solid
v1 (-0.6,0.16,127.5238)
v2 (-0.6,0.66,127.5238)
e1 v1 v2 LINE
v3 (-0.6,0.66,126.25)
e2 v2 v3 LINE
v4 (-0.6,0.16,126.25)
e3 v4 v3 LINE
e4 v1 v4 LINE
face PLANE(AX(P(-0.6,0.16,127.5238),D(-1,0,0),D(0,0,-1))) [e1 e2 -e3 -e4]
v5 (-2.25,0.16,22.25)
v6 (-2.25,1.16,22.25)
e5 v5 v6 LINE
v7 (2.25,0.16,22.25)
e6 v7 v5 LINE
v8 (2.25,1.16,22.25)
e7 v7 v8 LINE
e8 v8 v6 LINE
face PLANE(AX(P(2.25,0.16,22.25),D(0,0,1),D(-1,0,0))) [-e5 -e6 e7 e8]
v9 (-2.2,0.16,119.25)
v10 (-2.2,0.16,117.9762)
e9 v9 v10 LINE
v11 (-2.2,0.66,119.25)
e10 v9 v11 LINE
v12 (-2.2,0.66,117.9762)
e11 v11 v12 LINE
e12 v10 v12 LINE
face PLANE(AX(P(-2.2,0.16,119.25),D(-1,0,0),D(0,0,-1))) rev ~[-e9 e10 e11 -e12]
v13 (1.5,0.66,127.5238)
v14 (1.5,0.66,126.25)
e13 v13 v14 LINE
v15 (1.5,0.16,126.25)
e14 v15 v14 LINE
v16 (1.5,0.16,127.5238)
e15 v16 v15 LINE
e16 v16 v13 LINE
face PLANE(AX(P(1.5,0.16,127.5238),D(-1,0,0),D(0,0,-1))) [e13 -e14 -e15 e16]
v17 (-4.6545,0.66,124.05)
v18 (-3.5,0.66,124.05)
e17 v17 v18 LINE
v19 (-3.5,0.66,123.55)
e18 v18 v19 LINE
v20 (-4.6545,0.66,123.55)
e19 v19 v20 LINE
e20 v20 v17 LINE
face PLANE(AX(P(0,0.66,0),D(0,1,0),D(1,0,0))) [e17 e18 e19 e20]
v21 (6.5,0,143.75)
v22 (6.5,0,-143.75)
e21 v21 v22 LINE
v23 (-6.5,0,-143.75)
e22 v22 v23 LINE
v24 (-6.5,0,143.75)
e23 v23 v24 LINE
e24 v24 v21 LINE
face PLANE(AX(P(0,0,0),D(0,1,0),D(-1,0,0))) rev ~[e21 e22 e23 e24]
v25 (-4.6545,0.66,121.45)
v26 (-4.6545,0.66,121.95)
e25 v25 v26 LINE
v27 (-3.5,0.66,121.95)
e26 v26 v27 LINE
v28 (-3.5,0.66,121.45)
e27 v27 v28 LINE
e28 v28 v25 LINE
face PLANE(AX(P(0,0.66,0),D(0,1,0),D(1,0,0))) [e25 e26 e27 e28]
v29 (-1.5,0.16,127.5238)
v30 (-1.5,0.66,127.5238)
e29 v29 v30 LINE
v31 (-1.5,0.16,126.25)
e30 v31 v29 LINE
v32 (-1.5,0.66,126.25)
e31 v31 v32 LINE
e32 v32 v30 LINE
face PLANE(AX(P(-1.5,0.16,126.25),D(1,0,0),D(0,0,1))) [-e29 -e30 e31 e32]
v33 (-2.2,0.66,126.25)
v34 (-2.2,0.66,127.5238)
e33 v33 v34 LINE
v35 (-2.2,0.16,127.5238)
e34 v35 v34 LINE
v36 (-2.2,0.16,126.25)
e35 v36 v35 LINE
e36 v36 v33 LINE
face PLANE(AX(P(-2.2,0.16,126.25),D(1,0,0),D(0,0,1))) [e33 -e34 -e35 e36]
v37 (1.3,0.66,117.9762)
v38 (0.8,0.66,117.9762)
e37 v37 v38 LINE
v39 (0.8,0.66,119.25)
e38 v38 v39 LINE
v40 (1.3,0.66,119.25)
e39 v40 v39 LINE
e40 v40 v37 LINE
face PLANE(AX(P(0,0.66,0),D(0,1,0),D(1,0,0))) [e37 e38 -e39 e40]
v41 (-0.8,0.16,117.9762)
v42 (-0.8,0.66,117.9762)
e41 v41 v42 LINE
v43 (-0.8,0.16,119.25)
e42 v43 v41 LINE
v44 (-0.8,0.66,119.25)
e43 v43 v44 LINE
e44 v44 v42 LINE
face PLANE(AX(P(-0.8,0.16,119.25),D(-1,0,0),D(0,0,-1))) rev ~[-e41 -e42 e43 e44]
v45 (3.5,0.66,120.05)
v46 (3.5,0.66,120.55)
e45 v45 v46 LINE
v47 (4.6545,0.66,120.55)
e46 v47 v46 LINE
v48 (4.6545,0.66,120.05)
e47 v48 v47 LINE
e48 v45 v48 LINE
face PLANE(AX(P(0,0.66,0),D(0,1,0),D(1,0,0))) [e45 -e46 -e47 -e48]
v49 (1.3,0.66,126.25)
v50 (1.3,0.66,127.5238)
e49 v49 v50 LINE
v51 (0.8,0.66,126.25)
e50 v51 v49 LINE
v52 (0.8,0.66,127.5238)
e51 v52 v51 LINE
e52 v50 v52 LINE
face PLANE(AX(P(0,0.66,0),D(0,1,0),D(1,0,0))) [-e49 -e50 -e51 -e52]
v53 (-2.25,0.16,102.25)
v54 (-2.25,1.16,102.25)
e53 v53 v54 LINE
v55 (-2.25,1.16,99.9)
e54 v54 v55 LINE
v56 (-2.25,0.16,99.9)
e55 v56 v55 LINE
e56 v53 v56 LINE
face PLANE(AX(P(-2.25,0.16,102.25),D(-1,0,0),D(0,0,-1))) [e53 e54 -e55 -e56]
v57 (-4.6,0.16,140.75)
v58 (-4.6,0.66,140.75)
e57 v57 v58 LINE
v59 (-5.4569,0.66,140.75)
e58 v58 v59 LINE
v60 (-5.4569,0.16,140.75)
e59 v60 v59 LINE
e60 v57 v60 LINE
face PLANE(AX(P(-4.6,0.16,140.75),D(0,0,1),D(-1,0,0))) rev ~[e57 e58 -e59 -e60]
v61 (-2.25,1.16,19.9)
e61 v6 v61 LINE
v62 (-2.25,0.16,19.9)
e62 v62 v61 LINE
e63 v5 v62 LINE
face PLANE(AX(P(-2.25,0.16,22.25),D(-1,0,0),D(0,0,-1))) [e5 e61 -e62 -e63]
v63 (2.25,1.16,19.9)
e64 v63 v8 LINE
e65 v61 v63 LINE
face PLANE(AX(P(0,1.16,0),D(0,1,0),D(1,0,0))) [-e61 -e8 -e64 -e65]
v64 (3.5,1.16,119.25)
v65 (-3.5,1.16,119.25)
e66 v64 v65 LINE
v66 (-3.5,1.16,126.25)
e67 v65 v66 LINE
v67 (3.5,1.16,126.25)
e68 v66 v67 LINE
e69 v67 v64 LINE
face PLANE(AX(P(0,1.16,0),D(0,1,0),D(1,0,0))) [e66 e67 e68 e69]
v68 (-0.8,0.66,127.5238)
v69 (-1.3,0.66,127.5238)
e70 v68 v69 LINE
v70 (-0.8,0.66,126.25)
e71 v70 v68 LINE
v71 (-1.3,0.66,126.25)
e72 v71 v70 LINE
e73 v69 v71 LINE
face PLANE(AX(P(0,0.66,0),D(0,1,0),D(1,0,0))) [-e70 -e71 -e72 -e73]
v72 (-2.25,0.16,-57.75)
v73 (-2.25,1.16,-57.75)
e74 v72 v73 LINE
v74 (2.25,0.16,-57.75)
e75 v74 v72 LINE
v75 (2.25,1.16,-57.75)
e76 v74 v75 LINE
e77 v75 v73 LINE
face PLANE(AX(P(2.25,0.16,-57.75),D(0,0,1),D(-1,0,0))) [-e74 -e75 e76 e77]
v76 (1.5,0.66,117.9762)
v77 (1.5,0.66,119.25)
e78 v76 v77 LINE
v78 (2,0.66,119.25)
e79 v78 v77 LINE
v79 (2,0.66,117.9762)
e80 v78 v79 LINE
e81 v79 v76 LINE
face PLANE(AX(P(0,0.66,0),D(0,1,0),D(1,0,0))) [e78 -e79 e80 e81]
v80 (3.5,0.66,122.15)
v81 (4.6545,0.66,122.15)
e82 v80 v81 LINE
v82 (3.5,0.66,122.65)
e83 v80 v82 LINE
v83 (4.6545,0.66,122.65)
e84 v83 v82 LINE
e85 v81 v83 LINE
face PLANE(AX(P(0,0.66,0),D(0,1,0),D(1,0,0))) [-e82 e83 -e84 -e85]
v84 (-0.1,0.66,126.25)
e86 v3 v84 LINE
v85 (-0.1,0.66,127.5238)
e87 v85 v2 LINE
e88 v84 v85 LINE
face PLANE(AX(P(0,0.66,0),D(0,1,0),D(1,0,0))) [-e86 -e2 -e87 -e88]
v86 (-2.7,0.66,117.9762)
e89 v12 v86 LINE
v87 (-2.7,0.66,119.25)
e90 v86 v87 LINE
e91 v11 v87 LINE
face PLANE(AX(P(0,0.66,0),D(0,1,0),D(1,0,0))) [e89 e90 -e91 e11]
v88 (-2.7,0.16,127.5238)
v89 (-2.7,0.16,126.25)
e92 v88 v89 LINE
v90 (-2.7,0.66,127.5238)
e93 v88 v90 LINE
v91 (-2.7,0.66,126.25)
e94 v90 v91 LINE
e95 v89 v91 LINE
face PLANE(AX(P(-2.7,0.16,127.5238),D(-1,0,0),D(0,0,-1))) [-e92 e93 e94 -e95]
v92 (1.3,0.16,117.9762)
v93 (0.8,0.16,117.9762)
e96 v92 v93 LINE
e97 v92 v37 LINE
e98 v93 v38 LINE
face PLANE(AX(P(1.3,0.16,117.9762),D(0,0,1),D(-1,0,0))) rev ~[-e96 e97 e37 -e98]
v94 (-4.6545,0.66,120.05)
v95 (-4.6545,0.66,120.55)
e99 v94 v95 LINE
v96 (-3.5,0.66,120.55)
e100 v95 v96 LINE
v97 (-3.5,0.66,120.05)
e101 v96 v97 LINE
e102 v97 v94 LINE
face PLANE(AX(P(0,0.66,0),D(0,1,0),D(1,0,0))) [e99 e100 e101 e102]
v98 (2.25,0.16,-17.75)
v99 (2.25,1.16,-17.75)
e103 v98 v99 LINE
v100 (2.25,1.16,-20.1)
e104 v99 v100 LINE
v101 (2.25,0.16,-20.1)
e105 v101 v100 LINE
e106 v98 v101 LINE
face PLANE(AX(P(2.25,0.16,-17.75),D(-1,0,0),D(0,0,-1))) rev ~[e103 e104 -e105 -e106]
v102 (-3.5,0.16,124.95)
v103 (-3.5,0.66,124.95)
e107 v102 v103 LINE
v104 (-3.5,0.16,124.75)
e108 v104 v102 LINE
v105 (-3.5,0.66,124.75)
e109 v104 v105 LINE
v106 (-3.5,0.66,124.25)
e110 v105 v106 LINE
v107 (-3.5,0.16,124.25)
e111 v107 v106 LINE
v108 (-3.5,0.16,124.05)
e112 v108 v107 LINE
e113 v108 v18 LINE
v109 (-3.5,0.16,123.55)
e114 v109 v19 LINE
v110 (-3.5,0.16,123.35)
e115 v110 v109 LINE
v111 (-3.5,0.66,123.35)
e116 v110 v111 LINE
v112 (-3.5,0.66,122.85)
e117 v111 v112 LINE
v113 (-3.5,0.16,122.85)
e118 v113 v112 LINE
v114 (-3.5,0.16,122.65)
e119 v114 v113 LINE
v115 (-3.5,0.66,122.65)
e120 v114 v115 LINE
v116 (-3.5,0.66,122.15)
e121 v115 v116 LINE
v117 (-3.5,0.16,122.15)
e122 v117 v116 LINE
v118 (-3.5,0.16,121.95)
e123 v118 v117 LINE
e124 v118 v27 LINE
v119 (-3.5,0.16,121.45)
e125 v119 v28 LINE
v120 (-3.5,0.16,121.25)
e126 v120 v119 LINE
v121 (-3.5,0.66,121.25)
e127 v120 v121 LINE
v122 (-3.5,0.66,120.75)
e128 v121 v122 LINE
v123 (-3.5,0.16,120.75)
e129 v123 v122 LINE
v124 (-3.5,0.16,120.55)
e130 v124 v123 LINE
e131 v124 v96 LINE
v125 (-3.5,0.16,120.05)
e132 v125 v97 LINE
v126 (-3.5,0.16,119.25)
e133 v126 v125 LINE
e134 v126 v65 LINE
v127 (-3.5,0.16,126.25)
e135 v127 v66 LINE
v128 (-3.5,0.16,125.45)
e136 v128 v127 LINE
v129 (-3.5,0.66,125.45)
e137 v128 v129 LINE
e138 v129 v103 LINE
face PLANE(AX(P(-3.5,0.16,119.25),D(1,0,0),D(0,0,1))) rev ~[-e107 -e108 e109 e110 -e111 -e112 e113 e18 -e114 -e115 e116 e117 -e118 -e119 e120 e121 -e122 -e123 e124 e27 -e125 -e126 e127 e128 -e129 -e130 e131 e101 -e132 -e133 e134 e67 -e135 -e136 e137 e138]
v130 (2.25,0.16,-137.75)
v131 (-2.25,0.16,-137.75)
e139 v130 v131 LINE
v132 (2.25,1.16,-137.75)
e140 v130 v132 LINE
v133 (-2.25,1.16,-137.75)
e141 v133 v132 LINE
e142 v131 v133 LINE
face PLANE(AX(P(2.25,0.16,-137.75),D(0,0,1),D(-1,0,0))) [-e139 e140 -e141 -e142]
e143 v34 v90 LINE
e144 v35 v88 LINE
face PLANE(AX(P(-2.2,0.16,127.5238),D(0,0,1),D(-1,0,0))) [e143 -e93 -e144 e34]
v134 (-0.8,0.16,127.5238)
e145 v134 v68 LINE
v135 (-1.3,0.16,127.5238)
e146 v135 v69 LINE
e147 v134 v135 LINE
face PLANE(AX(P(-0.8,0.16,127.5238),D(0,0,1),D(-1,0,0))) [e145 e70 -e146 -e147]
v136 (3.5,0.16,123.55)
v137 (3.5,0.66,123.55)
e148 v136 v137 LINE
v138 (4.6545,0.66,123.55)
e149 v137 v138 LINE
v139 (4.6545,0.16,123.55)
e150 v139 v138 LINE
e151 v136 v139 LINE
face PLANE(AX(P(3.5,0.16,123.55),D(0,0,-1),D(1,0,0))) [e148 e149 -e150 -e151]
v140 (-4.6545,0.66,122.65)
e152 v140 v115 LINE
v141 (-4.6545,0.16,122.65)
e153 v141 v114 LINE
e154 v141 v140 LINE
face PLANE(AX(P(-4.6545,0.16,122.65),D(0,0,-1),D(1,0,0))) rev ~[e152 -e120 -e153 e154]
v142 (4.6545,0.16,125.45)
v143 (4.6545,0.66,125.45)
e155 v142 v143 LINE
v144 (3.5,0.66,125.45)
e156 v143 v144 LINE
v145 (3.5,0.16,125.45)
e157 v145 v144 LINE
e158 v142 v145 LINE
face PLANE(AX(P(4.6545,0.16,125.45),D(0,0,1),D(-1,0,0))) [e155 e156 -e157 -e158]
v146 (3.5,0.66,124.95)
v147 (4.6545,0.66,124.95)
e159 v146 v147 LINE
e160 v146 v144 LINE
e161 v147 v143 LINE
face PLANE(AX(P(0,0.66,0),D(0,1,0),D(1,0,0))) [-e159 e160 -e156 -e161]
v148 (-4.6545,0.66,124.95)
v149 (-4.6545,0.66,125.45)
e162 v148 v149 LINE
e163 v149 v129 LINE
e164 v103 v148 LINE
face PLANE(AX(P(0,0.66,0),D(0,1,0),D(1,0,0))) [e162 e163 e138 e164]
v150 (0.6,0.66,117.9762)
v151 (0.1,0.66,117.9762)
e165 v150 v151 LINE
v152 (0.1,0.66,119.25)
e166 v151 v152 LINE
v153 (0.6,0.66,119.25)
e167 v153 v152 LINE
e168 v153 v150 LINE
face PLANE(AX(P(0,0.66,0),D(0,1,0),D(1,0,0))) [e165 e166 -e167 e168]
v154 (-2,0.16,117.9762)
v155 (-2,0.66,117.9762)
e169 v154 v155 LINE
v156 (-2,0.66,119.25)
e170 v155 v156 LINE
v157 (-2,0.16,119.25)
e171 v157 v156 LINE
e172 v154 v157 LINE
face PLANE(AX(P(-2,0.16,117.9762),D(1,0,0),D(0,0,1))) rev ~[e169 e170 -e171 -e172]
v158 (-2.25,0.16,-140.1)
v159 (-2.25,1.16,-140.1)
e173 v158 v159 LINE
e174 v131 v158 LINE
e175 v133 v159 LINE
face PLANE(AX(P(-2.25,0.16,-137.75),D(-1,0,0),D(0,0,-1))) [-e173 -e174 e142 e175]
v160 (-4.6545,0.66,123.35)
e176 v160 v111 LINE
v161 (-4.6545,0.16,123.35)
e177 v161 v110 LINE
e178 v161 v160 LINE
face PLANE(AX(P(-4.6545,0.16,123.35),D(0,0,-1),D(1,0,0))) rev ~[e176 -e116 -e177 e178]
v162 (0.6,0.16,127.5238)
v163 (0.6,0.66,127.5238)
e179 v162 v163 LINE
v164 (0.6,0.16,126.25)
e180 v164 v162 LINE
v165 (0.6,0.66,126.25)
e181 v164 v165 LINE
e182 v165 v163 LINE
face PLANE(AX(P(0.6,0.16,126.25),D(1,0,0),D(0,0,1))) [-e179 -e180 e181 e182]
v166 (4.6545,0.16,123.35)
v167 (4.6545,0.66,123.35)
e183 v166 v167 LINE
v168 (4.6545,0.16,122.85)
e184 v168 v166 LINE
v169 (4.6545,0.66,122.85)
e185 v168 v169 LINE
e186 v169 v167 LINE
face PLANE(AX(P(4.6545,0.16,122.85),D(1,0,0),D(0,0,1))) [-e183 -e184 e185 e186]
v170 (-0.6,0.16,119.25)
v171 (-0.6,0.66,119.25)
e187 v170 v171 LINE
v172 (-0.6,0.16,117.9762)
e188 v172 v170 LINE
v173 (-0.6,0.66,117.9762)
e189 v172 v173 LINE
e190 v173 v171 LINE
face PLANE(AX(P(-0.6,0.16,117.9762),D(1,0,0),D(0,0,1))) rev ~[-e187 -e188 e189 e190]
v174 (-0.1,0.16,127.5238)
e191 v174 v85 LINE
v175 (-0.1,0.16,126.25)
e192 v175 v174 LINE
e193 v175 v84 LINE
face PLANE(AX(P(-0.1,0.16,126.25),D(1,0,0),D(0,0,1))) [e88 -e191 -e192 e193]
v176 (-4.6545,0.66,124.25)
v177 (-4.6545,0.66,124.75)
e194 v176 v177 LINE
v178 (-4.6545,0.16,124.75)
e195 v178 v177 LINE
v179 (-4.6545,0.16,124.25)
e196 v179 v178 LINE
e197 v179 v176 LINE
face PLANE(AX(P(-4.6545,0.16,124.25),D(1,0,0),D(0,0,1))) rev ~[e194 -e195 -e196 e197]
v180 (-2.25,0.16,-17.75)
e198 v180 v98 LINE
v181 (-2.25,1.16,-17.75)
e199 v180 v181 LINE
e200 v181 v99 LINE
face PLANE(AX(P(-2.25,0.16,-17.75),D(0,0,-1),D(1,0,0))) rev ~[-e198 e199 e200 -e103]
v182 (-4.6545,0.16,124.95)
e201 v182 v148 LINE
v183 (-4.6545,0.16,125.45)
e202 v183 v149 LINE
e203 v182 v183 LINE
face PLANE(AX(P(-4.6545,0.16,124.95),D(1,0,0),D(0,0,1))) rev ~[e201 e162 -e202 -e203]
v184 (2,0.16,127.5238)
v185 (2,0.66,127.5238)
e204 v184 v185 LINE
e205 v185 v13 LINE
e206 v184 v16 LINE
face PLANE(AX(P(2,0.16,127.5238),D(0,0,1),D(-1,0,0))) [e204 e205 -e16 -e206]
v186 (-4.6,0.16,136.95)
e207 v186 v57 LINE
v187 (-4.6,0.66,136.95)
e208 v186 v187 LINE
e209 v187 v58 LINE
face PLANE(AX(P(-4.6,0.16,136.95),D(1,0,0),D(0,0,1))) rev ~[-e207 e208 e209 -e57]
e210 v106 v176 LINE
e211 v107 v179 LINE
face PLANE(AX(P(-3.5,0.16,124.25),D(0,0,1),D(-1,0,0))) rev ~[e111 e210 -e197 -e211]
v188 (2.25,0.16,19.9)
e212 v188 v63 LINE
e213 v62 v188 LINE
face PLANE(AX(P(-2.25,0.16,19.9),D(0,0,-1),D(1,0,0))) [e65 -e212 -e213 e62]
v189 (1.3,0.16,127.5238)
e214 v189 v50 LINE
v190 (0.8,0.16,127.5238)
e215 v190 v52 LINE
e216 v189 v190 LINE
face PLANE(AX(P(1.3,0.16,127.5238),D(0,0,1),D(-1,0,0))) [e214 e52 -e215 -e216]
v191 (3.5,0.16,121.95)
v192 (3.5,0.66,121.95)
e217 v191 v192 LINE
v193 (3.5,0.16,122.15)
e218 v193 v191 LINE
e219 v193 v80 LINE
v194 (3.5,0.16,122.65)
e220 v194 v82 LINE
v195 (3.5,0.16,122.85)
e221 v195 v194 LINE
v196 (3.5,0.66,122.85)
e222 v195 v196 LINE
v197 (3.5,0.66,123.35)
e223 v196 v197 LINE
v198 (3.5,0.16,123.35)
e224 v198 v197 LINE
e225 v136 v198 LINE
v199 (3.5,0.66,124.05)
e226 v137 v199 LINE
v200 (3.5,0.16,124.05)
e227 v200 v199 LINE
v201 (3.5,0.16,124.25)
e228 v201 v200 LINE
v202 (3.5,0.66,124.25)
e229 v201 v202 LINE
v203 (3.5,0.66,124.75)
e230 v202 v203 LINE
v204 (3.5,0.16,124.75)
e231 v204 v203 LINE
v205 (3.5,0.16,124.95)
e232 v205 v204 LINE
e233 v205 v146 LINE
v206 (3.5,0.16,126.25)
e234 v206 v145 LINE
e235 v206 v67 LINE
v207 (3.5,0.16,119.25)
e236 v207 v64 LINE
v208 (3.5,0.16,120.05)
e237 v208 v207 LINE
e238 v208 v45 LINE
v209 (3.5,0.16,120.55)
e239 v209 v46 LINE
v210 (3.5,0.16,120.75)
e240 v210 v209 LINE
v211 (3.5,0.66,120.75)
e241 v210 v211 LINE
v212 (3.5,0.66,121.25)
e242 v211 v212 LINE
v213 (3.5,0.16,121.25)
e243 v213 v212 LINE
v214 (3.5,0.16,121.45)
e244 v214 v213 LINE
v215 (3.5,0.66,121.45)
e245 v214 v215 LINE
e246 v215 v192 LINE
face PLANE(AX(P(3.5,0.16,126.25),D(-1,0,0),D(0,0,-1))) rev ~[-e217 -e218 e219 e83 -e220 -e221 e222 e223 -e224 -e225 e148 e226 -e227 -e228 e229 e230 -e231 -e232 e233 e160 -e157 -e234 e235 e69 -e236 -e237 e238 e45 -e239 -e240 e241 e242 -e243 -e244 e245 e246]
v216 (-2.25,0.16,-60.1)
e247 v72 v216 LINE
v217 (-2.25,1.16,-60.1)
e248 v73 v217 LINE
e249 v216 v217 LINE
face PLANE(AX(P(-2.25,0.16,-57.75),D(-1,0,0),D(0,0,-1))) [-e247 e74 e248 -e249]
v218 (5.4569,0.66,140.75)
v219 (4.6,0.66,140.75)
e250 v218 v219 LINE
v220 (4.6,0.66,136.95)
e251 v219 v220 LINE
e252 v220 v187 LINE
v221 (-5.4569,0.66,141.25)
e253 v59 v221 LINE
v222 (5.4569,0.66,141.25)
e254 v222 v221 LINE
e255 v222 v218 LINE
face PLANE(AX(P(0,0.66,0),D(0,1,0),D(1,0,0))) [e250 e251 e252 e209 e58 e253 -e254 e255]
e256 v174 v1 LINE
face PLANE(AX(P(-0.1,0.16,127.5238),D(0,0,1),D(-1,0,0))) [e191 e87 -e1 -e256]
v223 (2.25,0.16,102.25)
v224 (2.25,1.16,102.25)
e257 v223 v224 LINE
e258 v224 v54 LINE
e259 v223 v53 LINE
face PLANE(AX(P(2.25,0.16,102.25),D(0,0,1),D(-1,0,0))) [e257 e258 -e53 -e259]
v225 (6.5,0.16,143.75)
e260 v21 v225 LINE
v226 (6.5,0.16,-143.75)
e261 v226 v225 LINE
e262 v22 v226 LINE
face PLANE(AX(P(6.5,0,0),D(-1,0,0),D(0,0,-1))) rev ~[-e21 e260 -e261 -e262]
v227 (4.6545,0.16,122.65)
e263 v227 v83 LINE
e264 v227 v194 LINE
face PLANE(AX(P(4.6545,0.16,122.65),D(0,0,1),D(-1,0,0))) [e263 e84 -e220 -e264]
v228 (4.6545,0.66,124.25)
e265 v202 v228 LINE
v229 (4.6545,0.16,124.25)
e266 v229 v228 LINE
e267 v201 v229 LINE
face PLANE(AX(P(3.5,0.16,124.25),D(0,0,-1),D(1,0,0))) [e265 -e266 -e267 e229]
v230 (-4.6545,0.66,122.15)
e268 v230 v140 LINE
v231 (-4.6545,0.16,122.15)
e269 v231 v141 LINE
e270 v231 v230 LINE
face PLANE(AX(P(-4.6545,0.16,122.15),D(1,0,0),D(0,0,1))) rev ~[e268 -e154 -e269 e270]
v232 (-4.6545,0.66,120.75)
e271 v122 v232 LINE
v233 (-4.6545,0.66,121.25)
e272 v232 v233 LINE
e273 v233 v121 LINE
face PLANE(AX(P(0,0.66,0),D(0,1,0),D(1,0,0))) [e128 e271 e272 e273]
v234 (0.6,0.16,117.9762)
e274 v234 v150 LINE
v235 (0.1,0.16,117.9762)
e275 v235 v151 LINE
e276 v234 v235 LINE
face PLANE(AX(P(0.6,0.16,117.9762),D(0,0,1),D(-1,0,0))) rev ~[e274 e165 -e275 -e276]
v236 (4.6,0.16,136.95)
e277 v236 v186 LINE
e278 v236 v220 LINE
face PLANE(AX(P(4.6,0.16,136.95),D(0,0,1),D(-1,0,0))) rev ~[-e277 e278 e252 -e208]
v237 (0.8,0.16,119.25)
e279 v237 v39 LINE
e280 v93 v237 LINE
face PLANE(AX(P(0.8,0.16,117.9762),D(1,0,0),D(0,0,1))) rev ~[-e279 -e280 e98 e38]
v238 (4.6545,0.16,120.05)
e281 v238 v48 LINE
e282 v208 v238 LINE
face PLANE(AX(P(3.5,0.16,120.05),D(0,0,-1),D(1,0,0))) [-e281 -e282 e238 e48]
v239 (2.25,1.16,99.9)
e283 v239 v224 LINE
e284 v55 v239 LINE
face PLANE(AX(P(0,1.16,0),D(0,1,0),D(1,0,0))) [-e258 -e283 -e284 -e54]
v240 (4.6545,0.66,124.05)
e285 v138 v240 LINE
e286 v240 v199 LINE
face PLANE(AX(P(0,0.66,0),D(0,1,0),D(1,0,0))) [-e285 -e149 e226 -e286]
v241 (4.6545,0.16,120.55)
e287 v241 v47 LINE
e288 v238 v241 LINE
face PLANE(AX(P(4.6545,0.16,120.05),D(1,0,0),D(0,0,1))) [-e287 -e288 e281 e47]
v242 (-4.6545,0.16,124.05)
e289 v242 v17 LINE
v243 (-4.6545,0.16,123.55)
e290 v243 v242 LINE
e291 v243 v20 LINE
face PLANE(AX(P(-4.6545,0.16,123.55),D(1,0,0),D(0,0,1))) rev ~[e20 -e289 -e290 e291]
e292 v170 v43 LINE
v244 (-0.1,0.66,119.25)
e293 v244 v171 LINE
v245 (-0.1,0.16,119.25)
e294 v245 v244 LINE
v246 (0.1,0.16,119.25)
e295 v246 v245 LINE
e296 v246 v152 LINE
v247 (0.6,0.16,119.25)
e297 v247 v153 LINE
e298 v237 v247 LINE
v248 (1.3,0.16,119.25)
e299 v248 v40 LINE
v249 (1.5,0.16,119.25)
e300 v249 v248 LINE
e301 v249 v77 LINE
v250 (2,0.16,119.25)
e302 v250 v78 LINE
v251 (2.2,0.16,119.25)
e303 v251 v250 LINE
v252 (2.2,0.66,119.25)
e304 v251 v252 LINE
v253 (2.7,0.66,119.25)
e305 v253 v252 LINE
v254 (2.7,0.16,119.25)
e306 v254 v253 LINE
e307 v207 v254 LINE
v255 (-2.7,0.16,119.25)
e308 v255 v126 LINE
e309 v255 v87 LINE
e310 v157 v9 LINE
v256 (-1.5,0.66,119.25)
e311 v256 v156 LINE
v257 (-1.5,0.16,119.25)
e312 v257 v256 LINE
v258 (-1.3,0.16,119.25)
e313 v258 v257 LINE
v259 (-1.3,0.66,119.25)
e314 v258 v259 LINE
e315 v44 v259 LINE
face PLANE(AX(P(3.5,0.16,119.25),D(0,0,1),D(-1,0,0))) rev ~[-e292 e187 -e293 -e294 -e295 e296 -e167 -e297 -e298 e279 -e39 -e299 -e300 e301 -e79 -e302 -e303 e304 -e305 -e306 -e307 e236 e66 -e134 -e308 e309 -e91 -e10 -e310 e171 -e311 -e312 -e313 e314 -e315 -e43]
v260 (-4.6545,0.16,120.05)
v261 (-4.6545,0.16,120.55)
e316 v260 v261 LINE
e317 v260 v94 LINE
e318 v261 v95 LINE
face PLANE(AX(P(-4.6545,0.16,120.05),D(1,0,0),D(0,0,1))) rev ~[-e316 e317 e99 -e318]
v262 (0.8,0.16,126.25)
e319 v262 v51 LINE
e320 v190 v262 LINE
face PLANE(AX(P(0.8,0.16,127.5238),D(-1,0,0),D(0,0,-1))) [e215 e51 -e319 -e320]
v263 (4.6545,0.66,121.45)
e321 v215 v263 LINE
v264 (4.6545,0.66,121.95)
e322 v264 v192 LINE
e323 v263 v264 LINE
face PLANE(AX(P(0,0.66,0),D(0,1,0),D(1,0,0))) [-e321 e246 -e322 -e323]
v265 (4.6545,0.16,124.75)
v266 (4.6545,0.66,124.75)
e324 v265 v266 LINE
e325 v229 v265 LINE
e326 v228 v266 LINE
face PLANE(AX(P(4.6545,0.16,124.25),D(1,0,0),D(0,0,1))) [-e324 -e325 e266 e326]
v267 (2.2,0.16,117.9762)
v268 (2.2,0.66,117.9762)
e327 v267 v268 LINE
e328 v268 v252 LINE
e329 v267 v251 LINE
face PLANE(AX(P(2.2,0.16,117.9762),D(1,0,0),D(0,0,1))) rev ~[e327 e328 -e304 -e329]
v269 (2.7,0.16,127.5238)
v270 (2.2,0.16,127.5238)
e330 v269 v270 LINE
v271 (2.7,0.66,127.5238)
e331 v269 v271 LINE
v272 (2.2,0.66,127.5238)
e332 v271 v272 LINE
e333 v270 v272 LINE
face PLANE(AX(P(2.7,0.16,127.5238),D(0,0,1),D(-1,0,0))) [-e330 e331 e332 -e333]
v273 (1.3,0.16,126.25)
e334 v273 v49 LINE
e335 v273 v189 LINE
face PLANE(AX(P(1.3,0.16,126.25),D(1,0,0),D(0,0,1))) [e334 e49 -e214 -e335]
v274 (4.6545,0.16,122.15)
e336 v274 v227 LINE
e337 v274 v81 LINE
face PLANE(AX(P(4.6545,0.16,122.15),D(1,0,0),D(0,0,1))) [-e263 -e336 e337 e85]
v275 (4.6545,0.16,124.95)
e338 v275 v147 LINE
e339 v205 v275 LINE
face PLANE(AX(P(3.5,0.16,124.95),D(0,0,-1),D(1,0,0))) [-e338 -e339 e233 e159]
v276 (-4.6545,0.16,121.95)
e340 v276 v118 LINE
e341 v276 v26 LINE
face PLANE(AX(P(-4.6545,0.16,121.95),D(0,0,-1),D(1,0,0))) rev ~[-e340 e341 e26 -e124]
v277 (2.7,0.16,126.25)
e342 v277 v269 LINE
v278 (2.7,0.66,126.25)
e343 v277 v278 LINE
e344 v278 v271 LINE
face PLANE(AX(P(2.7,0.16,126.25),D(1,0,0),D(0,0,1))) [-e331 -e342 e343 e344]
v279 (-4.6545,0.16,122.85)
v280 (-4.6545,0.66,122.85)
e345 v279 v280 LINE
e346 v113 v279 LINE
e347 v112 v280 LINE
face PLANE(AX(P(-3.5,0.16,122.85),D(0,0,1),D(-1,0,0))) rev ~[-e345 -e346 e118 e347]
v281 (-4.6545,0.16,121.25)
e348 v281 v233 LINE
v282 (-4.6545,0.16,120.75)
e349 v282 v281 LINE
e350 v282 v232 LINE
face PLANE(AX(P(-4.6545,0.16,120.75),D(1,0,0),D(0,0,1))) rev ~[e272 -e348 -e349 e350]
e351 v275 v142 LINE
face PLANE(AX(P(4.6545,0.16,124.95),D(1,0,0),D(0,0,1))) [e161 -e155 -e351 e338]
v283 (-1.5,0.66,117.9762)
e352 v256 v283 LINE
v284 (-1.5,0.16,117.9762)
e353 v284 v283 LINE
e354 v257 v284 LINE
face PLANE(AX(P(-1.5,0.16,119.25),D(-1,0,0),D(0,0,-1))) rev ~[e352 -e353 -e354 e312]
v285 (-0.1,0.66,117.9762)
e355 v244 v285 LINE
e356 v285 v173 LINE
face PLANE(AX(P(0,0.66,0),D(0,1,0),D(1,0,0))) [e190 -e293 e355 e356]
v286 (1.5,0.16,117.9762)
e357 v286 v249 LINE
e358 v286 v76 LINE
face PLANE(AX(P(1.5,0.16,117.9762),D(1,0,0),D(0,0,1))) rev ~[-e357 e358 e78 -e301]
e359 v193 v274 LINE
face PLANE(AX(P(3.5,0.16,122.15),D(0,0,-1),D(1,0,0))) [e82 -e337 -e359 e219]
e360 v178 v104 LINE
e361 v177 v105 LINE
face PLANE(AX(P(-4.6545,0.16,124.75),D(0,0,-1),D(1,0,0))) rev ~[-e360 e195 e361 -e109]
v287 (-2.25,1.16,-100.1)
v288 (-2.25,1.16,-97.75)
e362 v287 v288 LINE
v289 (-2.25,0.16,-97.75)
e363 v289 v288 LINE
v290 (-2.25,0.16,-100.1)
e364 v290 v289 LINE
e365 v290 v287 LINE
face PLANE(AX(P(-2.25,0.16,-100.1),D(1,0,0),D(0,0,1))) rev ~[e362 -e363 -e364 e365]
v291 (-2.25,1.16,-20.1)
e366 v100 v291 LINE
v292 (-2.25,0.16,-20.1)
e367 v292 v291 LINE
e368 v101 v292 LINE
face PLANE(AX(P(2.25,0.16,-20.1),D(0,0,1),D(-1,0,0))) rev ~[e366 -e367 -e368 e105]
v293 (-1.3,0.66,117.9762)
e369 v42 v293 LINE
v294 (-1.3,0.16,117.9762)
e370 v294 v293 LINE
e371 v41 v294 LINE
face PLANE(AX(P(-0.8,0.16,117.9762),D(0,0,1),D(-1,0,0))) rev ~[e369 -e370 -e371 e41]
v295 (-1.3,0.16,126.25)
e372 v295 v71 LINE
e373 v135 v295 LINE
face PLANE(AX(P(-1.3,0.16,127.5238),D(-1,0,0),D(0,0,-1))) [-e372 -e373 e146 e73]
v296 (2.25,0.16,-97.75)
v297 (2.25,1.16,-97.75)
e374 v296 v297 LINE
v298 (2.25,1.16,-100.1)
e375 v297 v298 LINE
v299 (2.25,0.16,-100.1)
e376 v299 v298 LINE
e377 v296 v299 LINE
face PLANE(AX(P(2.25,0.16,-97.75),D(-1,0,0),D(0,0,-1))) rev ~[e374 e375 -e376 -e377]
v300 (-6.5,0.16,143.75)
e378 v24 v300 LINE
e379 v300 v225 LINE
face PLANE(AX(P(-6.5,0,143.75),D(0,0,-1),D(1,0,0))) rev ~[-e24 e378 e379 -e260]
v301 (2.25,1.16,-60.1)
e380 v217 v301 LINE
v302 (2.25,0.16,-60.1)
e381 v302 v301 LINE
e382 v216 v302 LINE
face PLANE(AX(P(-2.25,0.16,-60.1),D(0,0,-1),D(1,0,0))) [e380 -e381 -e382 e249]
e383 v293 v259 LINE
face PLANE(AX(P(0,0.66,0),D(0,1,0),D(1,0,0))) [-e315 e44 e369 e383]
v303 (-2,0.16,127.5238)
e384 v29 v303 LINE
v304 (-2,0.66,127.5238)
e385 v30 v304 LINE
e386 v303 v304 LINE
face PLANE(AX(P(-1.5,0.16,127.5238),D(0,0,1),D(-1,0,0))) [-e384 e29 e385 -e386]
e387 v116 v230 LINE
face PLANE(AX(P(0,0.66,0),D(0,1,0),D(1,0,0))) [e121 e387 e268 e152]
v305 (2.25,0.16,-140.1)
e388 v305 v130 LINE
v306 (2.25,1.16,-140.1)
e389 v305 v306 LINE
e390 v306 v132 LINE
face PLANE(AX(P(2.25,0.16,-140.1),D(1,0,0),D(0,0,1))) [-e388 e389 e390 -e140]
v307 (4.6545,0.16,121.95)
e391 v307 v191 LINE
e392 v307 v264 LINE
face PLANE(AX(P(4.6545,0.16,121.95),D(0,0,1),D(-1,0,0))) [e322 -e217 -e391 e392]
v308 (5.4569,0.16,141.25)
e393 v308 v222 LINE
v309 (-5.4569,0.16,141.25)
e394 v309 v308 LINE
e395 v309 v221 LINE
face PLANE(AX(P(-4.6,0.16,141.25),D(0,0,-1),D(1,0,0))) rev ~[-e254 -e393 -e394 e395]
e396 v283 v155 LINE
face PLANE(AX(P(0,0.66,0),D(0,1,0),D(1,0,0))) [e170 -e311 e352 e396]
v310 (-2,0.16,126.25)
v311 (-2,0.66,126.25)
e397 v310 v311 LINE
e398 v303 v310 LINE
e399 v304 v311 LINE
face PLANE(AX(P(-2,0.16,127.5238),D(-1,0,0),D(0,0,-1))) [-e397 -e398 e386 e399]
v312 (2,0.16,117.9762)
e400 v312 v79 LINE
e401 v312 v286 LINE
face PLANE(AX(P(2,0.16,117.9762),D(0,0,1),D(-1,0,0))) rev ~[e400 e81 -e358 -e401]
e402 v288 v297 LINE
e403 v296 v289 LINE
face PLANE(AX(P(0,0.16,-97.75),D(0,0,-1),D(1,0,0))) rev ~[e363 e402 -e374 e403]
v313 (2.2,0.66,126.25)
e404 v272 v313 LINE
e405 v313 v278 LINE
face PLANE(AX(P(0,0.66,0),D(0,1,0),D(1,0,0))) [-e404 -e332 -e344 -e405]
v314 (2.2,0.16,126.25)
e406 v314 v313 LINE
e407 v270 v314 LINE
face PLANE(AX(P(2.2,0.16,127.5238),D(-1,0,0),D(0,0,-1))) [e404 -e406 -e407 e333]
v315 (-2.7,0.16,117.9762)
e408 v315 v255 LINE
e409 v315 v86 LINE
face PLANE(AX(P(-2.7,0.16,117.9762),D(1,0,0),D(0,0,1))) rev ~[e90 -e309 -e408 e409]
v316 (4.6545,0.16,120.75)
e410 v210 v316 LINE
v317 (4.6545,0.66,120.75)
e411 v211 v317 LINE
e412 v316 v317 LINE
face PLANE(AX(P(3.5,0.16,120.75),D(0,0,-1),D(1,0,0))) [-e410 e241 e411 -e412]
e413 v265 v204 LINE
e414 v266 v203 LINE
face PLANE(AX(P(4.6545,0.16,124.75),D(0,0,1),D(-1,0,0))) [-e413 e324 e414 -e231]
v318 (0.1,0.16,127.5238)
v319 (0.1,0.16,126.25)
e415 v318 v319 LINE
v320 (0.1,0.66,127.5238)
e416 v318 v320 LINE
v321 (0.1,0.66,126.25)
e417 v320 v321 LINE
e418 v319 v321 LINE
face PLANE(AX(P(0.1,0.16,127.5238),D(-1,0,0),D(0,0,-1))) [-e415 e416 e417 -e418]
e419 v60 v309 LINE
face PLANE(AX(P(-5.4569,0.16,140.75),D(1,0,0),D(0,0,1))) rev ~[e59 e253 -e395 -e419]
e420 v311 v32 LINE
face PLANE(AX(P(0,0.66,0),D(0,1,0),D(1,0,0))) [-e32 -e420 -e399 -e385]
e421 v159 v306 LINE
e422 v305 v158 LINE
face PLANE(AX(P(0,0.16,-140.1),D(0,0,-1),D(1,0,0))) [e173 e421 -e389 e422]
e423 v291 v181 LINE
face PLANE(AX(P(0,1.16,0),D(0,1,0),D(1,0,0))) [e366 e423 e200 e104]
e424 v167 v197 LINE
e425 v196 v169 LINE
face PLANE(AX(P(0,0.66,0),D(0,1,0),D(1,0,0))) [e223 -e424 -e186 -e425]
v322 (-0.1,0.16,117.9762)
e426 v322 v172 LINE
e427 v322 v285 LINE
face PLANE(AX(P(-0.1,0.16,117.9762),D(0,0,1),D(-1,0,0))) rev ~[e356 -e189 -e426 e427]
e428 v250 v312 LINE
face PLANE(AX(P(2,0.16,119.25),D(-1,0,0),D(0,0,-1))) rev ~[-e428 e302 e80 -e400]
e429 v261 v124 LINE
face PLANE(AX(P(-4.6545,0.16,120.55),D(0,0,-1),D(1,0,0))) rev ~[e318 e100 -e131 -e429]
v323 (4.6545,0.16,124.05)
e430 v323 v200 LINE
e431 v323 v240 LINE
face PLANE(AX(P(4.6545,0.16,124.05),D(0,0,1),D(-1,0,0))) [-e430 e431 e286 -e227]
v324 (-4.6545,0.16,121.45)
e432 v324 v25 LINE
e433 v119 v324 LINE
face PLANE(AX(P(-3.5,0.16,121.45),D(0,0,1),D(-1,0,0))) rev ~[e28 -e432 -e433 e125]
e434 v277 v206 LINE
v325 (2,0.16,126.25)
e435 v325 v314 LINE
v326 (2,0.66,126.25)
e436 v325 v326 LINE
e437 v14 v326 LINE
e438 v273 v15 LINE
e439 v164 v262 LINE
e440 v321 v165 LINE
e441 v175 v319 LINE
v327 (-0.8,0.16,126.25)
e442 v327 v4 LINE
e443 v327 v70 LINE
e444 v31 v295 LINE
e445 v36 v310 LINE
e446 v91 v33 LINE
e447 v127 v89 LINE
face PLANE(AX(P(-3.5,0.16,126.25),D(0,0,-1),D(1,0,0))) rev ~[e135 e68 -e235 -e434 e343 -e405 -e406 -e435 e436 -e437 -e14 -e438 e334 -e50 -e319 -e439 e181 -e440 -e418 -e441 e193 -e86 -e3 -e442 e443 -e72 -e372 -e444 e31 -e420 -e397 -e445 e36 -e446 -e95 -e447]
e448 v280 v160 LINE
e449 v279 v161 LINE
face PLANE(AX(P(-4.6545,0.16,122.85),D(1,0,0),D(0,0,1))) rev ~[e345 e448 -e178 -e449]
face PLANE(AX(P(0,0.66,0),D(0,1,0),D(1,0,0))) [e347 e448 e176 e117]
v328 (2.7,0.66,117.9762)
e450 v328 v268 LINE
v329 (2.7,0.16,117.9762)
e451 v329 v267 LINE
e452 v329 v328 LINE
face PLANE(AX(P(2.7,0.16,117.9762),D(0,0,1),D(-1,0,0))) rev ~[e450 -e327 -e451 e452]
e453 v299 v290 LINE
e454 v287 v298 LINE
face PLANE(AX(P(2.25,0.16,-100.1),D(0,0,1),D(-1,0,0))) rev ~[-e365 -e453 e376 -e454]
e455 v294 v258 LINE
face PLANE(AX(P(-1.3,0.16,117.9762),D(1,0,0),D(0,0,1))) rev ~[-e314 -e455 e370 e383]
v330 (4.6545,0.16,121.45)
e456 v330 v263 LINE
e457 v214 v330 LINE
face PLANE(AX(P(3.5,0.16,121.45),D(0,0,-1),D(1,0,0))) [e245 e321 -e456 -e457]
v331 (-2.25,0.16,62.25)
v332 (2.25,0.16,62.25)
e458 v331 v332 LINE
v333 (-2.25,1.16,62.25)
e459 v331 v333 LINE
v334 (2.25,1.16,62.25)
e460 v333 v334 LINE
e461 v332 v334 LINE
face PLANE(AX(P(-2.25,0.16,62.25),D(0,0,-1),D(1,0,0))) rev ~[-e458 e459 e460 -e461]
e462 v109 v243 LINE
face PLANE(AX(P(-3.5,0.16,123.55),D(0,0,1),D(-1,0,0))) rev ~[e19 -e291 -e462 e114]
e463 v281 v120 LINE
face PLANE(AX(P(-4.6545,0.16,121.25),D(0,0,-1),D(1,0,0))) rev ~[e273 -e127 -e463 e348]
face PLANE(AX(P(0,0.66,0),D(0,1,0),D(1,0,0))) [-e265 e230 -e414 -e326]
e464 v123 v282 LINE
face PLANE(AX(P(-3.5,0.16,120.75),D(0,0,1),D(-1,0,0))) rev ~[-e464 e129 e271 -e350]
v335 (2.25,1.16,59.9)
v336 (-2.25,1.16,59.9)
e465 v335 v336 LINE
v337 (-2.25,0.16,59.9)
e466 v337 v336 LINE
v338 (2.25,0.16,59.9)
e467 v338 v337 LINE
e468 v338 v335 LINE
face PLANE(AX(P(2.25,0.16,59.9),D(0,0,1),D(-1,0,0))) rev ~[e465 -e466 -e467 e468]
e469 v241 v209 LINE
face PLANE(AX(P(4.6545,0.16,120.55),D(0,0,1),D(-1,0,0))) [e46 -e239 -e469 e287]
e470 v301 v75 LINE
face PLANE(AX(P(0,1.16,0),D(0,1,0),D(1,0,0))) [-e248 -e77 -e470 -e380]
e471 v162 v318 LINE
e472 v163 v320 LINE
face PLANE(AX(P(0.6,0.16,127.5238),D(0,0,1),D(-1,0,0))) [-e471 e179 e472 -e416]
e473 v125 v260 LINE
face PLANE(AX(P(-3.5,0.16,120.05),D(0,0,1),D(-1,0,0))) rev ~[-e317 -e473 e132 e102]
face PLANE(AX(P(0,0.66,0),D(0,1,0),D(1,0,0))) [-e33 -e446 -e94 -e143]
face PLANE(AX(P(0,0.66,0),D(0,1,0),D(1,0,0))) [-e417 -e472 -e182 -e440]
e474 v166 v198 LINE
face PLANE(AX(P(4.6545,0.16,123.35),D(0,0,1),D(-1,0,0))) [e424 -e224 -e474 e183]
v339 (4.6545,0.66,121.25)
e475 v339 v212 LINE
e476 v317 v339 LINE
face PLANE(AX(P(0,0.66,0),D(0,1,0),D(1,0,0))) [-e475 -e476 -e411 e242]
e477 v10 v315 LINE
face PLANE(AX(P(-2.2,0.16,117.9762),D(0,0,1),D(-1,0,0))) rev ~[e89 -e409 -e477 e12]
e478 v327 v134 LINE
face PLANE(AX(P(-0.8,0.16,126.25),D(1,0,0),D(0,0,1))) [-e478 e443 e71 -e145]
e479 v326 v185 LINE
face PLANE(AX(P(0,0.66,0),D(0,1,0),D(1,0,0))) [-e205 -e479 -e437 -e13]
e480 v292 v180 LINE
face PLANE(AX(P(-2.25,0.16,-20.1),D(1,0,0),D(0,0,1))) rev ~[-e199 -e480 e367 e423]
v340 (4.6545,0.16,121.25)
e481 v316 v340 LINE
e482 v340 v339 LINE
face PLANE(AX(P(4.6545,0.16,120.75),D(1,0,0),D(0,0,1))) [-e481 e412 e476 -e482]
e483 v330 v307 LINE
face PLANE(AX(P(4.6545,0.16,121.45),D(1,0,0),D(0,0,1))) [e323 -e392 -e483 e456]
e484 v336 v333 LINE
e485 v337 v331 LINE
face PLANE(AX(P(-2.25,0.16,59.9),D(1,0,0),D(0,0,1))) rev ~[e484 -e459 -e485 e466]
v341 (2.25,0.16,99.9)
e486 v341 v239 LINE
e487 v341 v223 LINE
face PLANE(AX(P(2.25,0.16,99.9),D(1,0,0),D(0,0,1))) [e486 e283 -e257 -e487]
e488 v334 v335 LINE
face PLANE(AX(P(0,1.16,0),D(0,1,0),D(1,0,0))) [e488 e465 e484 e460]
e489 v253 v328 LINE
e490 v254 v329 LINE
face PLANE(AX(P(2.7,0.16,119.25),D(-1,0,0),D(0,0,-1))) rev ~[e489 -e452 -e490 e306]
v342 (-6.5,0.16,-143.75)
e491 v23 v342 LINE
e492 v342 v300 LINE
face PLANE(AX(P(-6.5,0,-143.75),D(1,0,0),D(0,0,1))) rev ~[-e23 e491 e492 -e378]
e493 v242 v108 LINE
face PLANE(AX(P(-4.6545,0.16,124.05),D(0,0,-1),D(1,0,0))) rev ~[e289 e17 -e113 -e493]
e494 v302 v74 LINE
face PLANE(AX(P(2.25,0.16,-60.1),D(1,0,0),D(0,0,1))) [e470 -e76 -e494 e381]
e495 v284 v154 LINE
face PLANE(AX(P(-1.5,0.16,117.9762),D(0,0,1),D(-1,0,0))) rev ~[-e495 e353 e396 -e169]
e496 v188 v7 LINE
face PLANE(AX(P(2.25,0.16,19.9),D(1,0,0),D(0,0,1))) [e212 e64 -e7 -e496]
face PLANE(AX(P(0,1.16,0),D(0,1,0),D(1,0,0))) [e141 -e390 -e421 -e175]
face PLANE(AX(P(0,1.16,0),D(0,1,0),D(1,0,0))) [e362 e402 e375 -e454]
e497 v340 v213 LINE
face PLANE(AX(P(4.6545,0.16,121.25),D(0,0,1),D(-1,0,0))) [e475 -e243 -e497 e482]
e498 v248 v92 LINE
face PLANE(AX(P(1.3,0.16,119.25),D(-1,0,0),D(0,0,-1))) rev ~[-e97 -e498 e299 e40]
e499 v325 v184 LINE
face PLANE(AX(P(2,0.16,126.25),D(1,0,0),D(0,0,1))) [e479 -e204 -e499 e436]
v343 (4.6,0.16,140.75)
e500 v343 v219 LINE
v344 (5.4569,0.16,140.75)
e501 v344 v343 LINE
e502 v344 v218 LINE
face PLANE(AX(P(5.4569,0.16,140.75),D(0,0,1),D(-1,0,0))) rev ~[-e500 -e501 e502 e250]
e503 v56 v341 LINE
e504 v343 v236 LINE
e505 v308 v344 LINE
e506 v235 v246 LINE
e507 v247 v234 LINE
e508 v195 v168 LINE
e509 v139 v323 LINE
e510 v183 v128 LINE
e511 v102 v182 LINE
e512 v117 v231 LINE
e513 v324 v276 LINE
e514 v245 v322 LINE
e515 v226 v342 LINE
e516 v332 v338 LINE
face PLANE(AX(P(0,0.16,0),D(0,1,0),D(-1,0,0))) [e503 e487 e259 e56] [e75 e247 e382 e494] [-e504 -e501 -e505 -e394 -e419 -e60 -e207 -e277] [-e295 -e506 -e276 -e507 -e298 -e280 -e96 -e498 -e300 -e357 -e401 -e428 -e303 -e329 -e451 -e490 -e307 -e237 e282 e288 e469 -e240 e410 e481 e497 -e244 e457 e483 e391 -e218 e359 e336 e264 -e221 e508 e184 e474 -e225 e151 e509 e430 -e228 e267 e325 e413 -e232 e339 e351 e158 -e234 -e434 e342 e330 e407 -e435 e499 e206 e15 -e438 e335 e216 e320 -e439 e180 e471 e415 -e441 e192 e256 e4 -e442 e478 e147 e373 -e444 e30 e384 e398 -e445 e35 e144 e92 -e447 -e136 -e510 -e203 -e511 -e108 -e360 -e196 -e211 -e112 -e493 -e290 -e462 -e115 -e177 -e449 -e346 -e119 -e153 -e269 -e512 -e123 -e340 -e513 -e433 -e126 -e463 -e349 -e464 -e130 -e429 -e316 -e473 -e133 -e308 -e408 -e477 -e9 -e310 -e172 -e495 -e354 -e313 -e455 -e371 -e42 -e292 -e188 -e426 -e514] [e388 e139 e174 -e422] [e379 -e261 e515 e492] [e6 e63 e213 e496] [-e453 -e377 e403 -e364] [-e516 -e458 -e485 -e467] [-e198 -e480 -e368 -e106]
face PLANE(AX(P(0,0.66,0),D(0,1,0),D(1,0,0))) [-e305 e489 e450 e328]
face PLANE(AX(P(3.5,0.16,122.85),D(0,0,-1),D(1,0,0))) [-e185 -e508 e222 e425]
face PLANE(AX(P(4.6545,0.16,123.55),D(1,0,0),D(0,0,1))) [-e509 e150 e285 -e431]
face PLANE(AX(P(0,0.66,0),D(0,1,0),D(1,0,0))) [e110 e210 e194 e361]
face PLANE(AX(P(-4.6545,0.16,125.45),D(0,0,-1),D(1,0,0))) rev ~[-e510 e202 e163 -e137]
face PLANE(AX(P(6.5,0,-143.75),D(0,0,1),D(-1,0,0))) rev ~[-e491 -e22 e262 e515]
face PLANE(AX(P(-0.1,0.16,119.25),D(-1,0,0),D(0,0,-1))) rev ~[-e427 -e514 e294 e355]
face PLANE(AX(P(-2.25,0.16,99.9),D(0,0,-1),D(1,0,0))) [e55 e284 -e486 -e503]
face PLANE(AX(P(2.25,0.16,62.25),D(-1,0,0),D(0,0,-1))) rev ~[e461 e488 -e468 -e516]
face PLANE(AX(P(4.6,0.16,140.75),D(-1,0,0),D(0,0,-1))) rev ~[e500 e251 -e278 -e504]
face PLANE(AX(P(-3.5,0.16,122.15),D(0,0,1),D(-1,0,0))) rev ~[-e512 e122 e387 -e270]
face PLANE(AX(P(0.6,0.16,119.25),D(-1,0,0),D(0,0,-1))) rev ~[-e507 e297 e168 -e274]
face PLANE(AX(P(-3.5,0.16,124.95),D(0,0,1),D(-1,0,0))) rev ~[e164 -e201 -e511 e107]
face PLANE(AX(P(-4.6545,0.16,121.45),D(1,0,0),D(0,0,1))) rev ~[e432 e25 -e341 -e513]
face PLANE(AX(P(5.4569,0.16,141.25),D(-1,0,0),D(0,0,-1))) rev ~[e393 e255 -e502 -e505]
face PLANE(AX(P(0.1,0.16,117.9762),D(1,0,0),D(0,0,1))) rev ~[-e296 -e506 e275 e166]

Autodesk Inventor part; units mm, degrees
ref_plane "YZ Plane" through (0, 0, 0) normal (1, 0, 0) x (0, 1, 0)
ref_plane "XZ Plane" through (0, 0, 0) normal (0, 1, 0) x (-1, 0, 0)
ref_plane "XY Plane" through (0, 0, 0) normal (0, 0, 1) x (1, 0, 0)
sketch "Boceto1" plane through (0, 0, 0) normal (0, 1, 0) x (-1, 0, 0)
  line L0 (-6.5, -143.75) -> (6.5, -143.75)
  line L1 (6.5, -143.75) -> (6.5, 143.75)
  line L2 (6.5, 143.75) -> (-6.5, 143.75)
  line L3 (-6.5, 143.75) -> (-6.5, -143.75)
  line L4 (0, 0) -> (-31.3915, 0)
  line L5 (0, 0) -> (0, -12.323)
  dimension "d0" = 13
  dimension "d1" = 287.5
extrude "Extrusión1" add sketch "Boceto1" along normal blind 0.16
sketch "Boceto2" plane through (0, 0.16, 0) normal (0, 1, 0) x (1, 0, 0)
  point P0 (0, 0)
sketch "Boceto3" plane through (0, 0.16, 0) normal (0, 1, 0) x (1, 0, 0)
  line L0 (6.5, 143.75) -> (-6.5, 143.75) projected
  line L1 (0, 143.75) -> (0, 97.75)
  line L2 (-2.25, 97.75) -> (2.25, 97.75)
  line L3 (2.25, 97.75) -> (2.25, 100.1)
  line L4 (2.25, 100.1) -> (-2.25, 100.1)
  line L5 (-2.25, 100.1) -> (-2.25, 97.75)
  line L6 (2.25, 57.75) -> (-2.25, 57.75)
  line L7 (-2.25, 57.75) -> (-2.25, 60.1)
  line L8 (-2.25, 60.1) -> (2.25, 60.1)
  line L9 (2.25, 60.1) -> (2.25, 57.75)
  line L10 (2.25, 57.75) -> (-2.25, 60.1) construction
  line L11 (-2.25, 57.75) -> (2.25, 60.1) construction
  line L12 (0, 38.925) -> (-3.2759, 38.925)
  line L13 (0, 78.925) -> (-4.0754, 78.925)
  line L14 (2.25, 20.1) -> (-2.25, 20.1)
  line L15 (-2.25, 20.1) -> (-2.25, 17.75)
  line L16 (-2.25, 17.75) -> (2.25, 17.75)
  line L17 (2.25, 17.75) -> (2.25, 20.1)
  line L18 (2.25, 20.1) -> (-2.25, 17.75) construction
  line L19 (-2.25, 20.1) -> (2.25, 17.75) construction
  line L20 (0, -1.075) -> (-4.0754, -1.075)
  line L21 (0, -41.075) -> (-3.2759, -41.075)
  line L22 (-2.25, -19.9) -> (2.25, -19.9)
  line L23 (2.25, -22.25) -> (-2.25, -22.25)
  line L24 (-2.25, -22.25) -> (-2.25, -19.9)
  line L25 (2.25, -19.9) -> (2.25, -22.25)
  line L26 (-2.25, -22.25) -> (2.25, -19.9) construction
  line L27 (2.25, -22.25) -> (-2.25, -19.9) construction
  line L28 (0, -81.075) -> (-4.0754, -81.075)
  line L29 (2.25, -59.9) -> (-2.25, -59.9)
  line L30 (-2.25, -62.25) -> (2.25, -62.25)
  line L31 (2.25, -62.25) -> (2.25, -59.9)
  line L32 (-2.25, -59.9) -> (2.25, -62.25) construction
  line L33 (2.25, -59.9) -> (-2.25, -62.25) construction
  line L34 (-2.25, -59.9) -> (-2.25, -62.25)
  line L35 (0, -121.075) -> (-3.2759, -121.075)
  line L36 (-2.25, -99.9) -> (2.25, -99.9)
  line L37 (2.25, -102.25) -> (-2.25, -102.25)
  line L38 (2.25, -99.9) -> (2.25, -102.25)
  line L39 (-2.25, -102.25) -> (2.25, -99.9) construction
  line L40 (2.25, -102.25) -> (-2.25, -99.9) construction
  line L41 (-2.25, -102.25) -> (-2.25, -99.9)
  line L42 (0, 118.925) -> (-3.2759, 118.925)
  line L43 (-2.25, 140.1) -> (2.25, 140.1)
  line L44 (2.25, 140.1) -> (2.25, 137.75)
  line L45 (2.25, 137.75) -> (-2.25, 137.75)
  line L46 (-2.25, 137.75) -> (-2.25, 140.1)
  point P0 (0, 0)
  point P1 (0, 98.925)
  point P2 (0, 58.925)
  point P3 (0, 18.925)
  point P4 (0, -21.075)
  point P5 (0, -82.15)
  point P6 (0, -61.075)
  point P7 (0, -101.075)
  point P8 (0, 140.1)
  point P9 (0, 138.925)
  dimension "d4" = 46
  dimension "d5" = 4.5
  dimension "d6" = 2.35
  dimension "d7" = 40
  dimension "d8" = 4.5
  dimension "d9" = 2.35
  dimension "d10" = 20
  dimension "d11" = 20
extrude "Extrusión2" add sketch "Boceto3" along normal blind 1
sketch "Boceto4" plane through (0, 0.16, 0) normal (0, 1, 0) x (1, 0, 0)
  line L0 (-6.5, -143.75) -> (6.5, -143.75) projected
  line L1 (-3.5, -126.25) -> (3.5, -126.25)
  line L2 (3.5, -126.25) -> (3.5, -119.25)
  line L3 (3.5, -119.25) -> (-3.5, -119.25)
  line L4 (-3.5, -119.25) -> (-3.5, -126.25)
  line L5 (-3.5, -126.25) -> (3.5, -119.25) construction
  line L6 (3.5, -126.25) -> (-3.5, -119.25) construction
  point P0 (0, 0)
  point P1 (0, -122.75)
  dimension "d14" = 21
  dimension "d15" = 7
  dimension "d16" = 7
extrude "Extrusión3" add sketch "Boceto4" along normal blind 1
sketch "Boceto5" plane through (0, 0.16, 0) normal (0, 1, 0) x (1, 0, 0)
  line L0 (3.5, -119.25) -> (-3.5, -119.25) projected
  line L1 (-2.7, -119.25) -> (-2.2, -119.25)
  line L2 (-2.2, -119.25) -> (-2.2, -117.9762)
  line L3 (-2.2, -117.9762) -> (-2.7, -117.9762)
  line L4 (-2.7, -117.9762) -> (-2.7, -119.25)
  line L5 (-2, -119.25) -> (-1.5, -119.25)
  line L6 (-1.5, -119.25) -> (-1.5, -117.9762)
  line L7 (-1.5, -117.9762) -> (-2, -117.9762)
  line L8 (-2, -117.9762) -> (-2, -119.25)
  line L9 (-1.3, -119.25) -> (-0.8, -119.25)
  line L10 (-0.8, -119.25) -> (-0.8, -117.9762)
  line L11 (-0.8, -117.9762) -> (-1.3, -117.9762)
  line L12 (-1.3, -117.9762) -> (-1.3, -119.25)
  line L13 (-0.6, -119.25) -> (-0.1, -119.25)
  line L14 (-0.1, -119.25) -> (-0.1, -117.9762)
  line L15 (-0.1, -117.9762) -> (-0.6, -117.9762)
  line L16 (-0.6, -117.9762) -> (-0.6, -119.25)
  line L17 (0.1, -119.25) -> (0.6, -119.25)
  line L18 (0.6, -119.25) -> (0.6, -117.9762)
  line L19 (0.6, -117.9762) -> (0.1, -117.9762)
  line L20 (0.1, -117.9762) -> (0.1, -119.25)
  line L21 (0.8, -119.25) -> (1.3, -119.25)
  line L22 (1.3, -119.25) -> (1.3, -117.9762)
  line L23 (1.3, -117.9762) -> (0.8, -117.9762)
  line L24 (0.8, -117.9762) -> (0.8, -119.25)
  line L25 (1.5, -119.25) -> (2, -119.25)
  line L26 (2, -119.25) -> (2, -117.9762)
  line L27 (2, -117.9762) -> (1.5, -117.9762)
  line L28 (1.5, -117.9762) -> (1.5, -119.25)
  line L29 (2.2, -119.25) -> (2.7, -119.25)
  line L30 (2.7, -119.25) -> (2.7, -117.9762)
  line L31 (2.7, -117.9762) -> (2.2, -117.9762)
  line L32 (2.2, -117.9762) -> (2.2, -119.25)
  line L33 (2.25, -102.25) -> (-2.25, -102.25) projected
  line L34 (0, -102.25) -> (0, -103.6026)
  line L35 (-3.5, -119.25) -> (-3.5, -119.452)
  line L36 (-3.5, -126.25) -> (-3.5, -119.25) projected
  line L37 (-3.5, -119.25) -> (3.5, -119.25) projected
  line L38 (-3.5, -119.25) -> (-3.2852, -119.25)
  line L39 (-3.5, -119.25) -> (-3.5, -126.25) projected
  line L40 (-3.5, -122.75) -> (-4.815, -122.75)
  line L41 (-2.7, -126.25) -> (-2.2, -126.25)
  line L42 (-2.2, -126.25) -> (-2.2, -127.5238)
  line L43 (-2.2, -127.5238) -> (-2.7, -127.5238)
  line L44 (-2.7, -127.5238) -> (-2.7, -126.25)
  line L45 (-2, -126.25) -> (-1.5, -126.25)
  line L46 (-1.5, -126.25) -> (-1.5, -127.5238)
  line L47 (-1.5, -127.5238) -> (-2, -127.5238)
  line L48 (-2, -127.5238) -> (-2, -126.25)
  line L49 (-1.3, -126.25) -> (-0.8, -126.25)
  line L50 (-0.8, -126.25) -> (-0.8, -127.5238)
  line L51 (-0.8, -127.5238) -> (-1.3, -127.5238)
  line L52 (-1.3, -127.5238) -> (-1.3, -126.25)
  line L53 (-0.6, -126.25) -> (-0.1, -126.25)
  line L54 (-0.1, -126.25) -> (-0.1, -127.5238)
  line L55 (-0.1, -127.5238) -> (-0.6, -127.5238)
  line L56 (-0.6, -127.5238) -> (-0.6, -126.25)
  line L57 (0.1, -126.25) -> (0.6, -126.25)
  line L58 (0.6, -126.25) -> (0.6, -127.5238)
  line L59 (0.6, -127.5238) -> (0.1, -127.5238)
  line L60 (0.1, -127.5238) -> (0.1, -126.25)
  line L61 (0.8, -126.25) -> (1.3, -126.25)
  line L62 (1.3, -126.25) -> (1.3, -127.5238)
  line L63 (1.3, -127.5238) -> (0.8, -127.5238)
  line L64 (0.8, -127.5238) -> (0.8, -126.25)
  line L65 (1.5, -126.25) -> (2, -126.25)
  line L66 (2, -126.25) -> (2, -127.5238)
  line L67 (2, -127.5238) -> (1.5, -127.5238)
  line L68 (1.5, -127.5238) -> (1.5, -126.25)
  line L69 (2.2, -126.25) -> (2.7, -126.25)
  line L70 (2.7, -126.25) -> (2.7, -127.5238)
  line L71 (2.7, -127.5238) -> (2.2, -127.5238)
  line L72 (2.2, -127.5238) -> (2.2, -126.25)
  line L73 (-4.6545, -125.45) -> (-3.5, -125.45)
  line L74 (-3.5, -125.45) -> (-3.5, -124.95)
  line L75 (-3.5, -124.95) -> (-4.6545, -124.95)
  line L76 (-4.6545, -124.95) -> (-4.6545, -125.45)
  line L77 (-4.6545, -124.75) -> (-3.5, -124.75)
  line L78 (-3.5, -124.75) -> (-3.5, -124.25)
  line L79 (-3.5, -124.25) -> (-4.6545, -124.25)
  line L80 (-4.6545, -124.25) -> (-4.6545, -124.75)
  line L81 (-4.6545, -124.05) -> (-3.5, -124.05)
  line L82 (-3.5, -124.05) -> (-3.5, -123.55)
  line L83 (-3.5, -123.55) -> (-4.6545, -123.55)
  line L84 (-4.6545, -123.55) -> (-4.6545, -124.05)
  line L85 (-4.6545, -123.35) -> (-3.5, -123.35)
  line L86 (-3.5, -123.35) -> (-3.5, -122.85)
  line L87 (-3.5, -122.85) -> (-4.6545, -122.85)
  line L88 (-4.6545, -122.85) -> (-4.6545, -123.35)
  line L89 (-4.6545, -122.65) -> (-3.5, -122.65)
  line L90 (-3.5, -122.65) -> (-3.5, -122.15)
  line L91 (-3.5, -122.15) -> (-4.6545, -122.15)
  line L92 (-4.6545, -122.15) -> (-4.6545, -122.65)
  line L93 (-4.6545, -121.95) -> (-3.5, -121.95)
  line L94 (-3.5, -121.95) -> (-3.5, -121.45)
  line L95 (-3.5, -121.45) -> (-4.6545, -121.45)
  line L96 (-4.6545, -121.45) -> (-4.6545, -121.95)
  line L97 (-4.6545, -121.25) -> (-3.5, -121.25)
  line L98 (-3.5, -121.25) -> (-3.5, -120.75)
  line L99 (-3.5, -120.75) -> (-4.6545, -120.75)
  line L100 (-4.6545, -120.75) -> (-4.6545, -121.25)
  line L101 (-4.6545, -120.55) -> (-3.5, -120.55)
  line L102 (-3.5, -120.55) -> (-3.5, -120.05)
  line L103 (-3.5, -120.05) -> (-4.6545, -120.05)
  line L104 (-4.6545, -120.05) -> (-4.6545, -120.55)
  line L105 (3.5, -119.25) -> (3.5, -126.25) projected
  line L106 (3.5, -122.75) -> (2.5278, -122.75)
  line L107 (0, -119.25) -> (0, -116.7727)
  line L108 (3.5, -122.75) -> (4.815, -122.75)
  line L109 (4.6545, -125.45) -> (3.5, -125.45)
  line L110 (3.5, -125.45) -> (3.5, -124.95)
  line L111 (3.5, -124.95) -> (4.6545, -124.95)
  line L112 (4.6545, -124.95) -> (4.6545, -125.45)
  line L113 (3.5, -124.25) -> (4.6545, -124.25)
  line L114 (3.5, -124.75) -> (3.5, -124.25)
  line L115 (4.6545, -124.75) -> (3.5, -124.75)
  line L116 (4.6545, -124.25) -> (4.6545, -124.75)
  line L117 (3.5, -123.55) -> (4.6545, -123.55)
  line L118 (3.5, -124.05) -> (3.5, -123.55)
  line L119 (4.6545, -124.05) -> (3.5, -124.05)
  line L120 (4.6545, -123.55) -> (4.6545, -124.05)
  line L121 (3.5, -122.85) -> (4.6545, -122.85)
  line L122 (3.5, -123.35) -> (3.5, -122.85)
  line L123 (4.6545, -123.35) -> (3.5, -123.35)
  line L124 (4.6545, -122.85) -> (4.6545, -123.35)
  line L125 (3.5, -122.15) -> (4.6545, -122.15)
  line L126 (3.5, -122.65) -> (3.5, -122.15)
  line L127 (4.6545, -122.65) -> (3.5, -122.65)
  line L128 (4.6545, -122.15) -> (4.6545, -122.65)
  line L129 (3.5, -121.45) -> (4.6545, -121.45)
  line L130 (3.5, -121.95) -> (3.5, -121.45)
  line L131 (4.6545, -121.95) -> (3.5, -121.95)
  line L132 (4.6545, -121.45) -> (4.6545, -121.95)
  line L133 (3.5, -120.75) -> (4.6545, -120.75)
  line L134 (3.5, -121.25) -> (3.5, -120.75)
  line L135 (4.6545, -121.25) -> (3.5, -121.25)
  line L136 (4.6545, -120.75) -> (4.6545, -121.25)
  line L137 (3.5, -120.05) -> (4.6545, -120.05)
  line L138 (3.5, -120.55) -> (3.5, -120.05)
  line L139 (4.6545, -120.55) -> (3.5, -120.55)
  line L140 (4.6545, -120.05) -> (4.6545, -120.55)
  point P0 (0, 0)
  dimension "d19" = 0.2
  dimension "d20" = 0.2
  dimension "d21" = 0.2
  dimension "d22" = 0.2
  dimension "d23" = 0.2
  dimension "d24" = 0.2
  dimension "d25" = 0.2
  dimension "d26" = 0.5
  dimension "d27" = 0.5
  dimension "d28" = 0.5
  dimension "d29" = 0.5
  dimension "d30" = 0.5
  dimension "d31" = 0.5
  dimension "d32" = 0.5
  dimension "d33" = 0.5
  dimension "d36" = 1.2738
  dimension "d37" = 0.5
  dimension "d38" = 0.5
  dimension "d39" = 0.5
  dimension "d40" = 0.5
  dimension "d41" = 0.5
  dimension "d42" = 0.5
  dimension "d43" = 0.5
  dimension "d44" = 0.5
  dimension "d45" = 0.2
  dimension "d46" = 0.2
  dimension "d47" = 0.2
  dimension "d48" = 0.2
  dimension "d49" = 0.2
  dimension "d50" = 0.2
  dimension "d51" = 0.2
extrude "Extrusión4" add sketch "Boceto5" along normal blind 0.5
sketch "Boceto6" plane through (0, 0.16, 0) normal (0, 1, 0) x (1, 0, 0)
  line L0 (-4.6, -141.25) -> (4.6, -141.25)
  line L1 (4.6, -141.25) -> (4.6, -136.95)
  line L2 (4.6, -136.95) -> (-4.6, -136.95)
  line L3 (-4.6, -136.95) -> (-4.6, -141.25)
  line L4 (-6.5, -143.75) -> (6.5, -143.75) projected
  line L5 (0, -143.75) -> (0, -142.0268)
  line L6 (-5.4569, -141.25) -> (5.4569, -141.25)
  line L7 (5.4569, -141.25) -> (5.4569, -140.75)
  line L8 (5.4569, -140.75) -> (-5.4569, -140.75)
  line L9 (-5.4569, -140.75) -> (-5.4569, -141.25)
  point P0 (0, 0)
  dimension "d52" = 9.2
  dimension "d53" = 4.3
  dimension "d54" = 2.5
  dimension "d55" = 0.5
extrude "Extrusión5" add sketch "Boceto6" along normal blind 0.5
properties material "PVC, flexible"
